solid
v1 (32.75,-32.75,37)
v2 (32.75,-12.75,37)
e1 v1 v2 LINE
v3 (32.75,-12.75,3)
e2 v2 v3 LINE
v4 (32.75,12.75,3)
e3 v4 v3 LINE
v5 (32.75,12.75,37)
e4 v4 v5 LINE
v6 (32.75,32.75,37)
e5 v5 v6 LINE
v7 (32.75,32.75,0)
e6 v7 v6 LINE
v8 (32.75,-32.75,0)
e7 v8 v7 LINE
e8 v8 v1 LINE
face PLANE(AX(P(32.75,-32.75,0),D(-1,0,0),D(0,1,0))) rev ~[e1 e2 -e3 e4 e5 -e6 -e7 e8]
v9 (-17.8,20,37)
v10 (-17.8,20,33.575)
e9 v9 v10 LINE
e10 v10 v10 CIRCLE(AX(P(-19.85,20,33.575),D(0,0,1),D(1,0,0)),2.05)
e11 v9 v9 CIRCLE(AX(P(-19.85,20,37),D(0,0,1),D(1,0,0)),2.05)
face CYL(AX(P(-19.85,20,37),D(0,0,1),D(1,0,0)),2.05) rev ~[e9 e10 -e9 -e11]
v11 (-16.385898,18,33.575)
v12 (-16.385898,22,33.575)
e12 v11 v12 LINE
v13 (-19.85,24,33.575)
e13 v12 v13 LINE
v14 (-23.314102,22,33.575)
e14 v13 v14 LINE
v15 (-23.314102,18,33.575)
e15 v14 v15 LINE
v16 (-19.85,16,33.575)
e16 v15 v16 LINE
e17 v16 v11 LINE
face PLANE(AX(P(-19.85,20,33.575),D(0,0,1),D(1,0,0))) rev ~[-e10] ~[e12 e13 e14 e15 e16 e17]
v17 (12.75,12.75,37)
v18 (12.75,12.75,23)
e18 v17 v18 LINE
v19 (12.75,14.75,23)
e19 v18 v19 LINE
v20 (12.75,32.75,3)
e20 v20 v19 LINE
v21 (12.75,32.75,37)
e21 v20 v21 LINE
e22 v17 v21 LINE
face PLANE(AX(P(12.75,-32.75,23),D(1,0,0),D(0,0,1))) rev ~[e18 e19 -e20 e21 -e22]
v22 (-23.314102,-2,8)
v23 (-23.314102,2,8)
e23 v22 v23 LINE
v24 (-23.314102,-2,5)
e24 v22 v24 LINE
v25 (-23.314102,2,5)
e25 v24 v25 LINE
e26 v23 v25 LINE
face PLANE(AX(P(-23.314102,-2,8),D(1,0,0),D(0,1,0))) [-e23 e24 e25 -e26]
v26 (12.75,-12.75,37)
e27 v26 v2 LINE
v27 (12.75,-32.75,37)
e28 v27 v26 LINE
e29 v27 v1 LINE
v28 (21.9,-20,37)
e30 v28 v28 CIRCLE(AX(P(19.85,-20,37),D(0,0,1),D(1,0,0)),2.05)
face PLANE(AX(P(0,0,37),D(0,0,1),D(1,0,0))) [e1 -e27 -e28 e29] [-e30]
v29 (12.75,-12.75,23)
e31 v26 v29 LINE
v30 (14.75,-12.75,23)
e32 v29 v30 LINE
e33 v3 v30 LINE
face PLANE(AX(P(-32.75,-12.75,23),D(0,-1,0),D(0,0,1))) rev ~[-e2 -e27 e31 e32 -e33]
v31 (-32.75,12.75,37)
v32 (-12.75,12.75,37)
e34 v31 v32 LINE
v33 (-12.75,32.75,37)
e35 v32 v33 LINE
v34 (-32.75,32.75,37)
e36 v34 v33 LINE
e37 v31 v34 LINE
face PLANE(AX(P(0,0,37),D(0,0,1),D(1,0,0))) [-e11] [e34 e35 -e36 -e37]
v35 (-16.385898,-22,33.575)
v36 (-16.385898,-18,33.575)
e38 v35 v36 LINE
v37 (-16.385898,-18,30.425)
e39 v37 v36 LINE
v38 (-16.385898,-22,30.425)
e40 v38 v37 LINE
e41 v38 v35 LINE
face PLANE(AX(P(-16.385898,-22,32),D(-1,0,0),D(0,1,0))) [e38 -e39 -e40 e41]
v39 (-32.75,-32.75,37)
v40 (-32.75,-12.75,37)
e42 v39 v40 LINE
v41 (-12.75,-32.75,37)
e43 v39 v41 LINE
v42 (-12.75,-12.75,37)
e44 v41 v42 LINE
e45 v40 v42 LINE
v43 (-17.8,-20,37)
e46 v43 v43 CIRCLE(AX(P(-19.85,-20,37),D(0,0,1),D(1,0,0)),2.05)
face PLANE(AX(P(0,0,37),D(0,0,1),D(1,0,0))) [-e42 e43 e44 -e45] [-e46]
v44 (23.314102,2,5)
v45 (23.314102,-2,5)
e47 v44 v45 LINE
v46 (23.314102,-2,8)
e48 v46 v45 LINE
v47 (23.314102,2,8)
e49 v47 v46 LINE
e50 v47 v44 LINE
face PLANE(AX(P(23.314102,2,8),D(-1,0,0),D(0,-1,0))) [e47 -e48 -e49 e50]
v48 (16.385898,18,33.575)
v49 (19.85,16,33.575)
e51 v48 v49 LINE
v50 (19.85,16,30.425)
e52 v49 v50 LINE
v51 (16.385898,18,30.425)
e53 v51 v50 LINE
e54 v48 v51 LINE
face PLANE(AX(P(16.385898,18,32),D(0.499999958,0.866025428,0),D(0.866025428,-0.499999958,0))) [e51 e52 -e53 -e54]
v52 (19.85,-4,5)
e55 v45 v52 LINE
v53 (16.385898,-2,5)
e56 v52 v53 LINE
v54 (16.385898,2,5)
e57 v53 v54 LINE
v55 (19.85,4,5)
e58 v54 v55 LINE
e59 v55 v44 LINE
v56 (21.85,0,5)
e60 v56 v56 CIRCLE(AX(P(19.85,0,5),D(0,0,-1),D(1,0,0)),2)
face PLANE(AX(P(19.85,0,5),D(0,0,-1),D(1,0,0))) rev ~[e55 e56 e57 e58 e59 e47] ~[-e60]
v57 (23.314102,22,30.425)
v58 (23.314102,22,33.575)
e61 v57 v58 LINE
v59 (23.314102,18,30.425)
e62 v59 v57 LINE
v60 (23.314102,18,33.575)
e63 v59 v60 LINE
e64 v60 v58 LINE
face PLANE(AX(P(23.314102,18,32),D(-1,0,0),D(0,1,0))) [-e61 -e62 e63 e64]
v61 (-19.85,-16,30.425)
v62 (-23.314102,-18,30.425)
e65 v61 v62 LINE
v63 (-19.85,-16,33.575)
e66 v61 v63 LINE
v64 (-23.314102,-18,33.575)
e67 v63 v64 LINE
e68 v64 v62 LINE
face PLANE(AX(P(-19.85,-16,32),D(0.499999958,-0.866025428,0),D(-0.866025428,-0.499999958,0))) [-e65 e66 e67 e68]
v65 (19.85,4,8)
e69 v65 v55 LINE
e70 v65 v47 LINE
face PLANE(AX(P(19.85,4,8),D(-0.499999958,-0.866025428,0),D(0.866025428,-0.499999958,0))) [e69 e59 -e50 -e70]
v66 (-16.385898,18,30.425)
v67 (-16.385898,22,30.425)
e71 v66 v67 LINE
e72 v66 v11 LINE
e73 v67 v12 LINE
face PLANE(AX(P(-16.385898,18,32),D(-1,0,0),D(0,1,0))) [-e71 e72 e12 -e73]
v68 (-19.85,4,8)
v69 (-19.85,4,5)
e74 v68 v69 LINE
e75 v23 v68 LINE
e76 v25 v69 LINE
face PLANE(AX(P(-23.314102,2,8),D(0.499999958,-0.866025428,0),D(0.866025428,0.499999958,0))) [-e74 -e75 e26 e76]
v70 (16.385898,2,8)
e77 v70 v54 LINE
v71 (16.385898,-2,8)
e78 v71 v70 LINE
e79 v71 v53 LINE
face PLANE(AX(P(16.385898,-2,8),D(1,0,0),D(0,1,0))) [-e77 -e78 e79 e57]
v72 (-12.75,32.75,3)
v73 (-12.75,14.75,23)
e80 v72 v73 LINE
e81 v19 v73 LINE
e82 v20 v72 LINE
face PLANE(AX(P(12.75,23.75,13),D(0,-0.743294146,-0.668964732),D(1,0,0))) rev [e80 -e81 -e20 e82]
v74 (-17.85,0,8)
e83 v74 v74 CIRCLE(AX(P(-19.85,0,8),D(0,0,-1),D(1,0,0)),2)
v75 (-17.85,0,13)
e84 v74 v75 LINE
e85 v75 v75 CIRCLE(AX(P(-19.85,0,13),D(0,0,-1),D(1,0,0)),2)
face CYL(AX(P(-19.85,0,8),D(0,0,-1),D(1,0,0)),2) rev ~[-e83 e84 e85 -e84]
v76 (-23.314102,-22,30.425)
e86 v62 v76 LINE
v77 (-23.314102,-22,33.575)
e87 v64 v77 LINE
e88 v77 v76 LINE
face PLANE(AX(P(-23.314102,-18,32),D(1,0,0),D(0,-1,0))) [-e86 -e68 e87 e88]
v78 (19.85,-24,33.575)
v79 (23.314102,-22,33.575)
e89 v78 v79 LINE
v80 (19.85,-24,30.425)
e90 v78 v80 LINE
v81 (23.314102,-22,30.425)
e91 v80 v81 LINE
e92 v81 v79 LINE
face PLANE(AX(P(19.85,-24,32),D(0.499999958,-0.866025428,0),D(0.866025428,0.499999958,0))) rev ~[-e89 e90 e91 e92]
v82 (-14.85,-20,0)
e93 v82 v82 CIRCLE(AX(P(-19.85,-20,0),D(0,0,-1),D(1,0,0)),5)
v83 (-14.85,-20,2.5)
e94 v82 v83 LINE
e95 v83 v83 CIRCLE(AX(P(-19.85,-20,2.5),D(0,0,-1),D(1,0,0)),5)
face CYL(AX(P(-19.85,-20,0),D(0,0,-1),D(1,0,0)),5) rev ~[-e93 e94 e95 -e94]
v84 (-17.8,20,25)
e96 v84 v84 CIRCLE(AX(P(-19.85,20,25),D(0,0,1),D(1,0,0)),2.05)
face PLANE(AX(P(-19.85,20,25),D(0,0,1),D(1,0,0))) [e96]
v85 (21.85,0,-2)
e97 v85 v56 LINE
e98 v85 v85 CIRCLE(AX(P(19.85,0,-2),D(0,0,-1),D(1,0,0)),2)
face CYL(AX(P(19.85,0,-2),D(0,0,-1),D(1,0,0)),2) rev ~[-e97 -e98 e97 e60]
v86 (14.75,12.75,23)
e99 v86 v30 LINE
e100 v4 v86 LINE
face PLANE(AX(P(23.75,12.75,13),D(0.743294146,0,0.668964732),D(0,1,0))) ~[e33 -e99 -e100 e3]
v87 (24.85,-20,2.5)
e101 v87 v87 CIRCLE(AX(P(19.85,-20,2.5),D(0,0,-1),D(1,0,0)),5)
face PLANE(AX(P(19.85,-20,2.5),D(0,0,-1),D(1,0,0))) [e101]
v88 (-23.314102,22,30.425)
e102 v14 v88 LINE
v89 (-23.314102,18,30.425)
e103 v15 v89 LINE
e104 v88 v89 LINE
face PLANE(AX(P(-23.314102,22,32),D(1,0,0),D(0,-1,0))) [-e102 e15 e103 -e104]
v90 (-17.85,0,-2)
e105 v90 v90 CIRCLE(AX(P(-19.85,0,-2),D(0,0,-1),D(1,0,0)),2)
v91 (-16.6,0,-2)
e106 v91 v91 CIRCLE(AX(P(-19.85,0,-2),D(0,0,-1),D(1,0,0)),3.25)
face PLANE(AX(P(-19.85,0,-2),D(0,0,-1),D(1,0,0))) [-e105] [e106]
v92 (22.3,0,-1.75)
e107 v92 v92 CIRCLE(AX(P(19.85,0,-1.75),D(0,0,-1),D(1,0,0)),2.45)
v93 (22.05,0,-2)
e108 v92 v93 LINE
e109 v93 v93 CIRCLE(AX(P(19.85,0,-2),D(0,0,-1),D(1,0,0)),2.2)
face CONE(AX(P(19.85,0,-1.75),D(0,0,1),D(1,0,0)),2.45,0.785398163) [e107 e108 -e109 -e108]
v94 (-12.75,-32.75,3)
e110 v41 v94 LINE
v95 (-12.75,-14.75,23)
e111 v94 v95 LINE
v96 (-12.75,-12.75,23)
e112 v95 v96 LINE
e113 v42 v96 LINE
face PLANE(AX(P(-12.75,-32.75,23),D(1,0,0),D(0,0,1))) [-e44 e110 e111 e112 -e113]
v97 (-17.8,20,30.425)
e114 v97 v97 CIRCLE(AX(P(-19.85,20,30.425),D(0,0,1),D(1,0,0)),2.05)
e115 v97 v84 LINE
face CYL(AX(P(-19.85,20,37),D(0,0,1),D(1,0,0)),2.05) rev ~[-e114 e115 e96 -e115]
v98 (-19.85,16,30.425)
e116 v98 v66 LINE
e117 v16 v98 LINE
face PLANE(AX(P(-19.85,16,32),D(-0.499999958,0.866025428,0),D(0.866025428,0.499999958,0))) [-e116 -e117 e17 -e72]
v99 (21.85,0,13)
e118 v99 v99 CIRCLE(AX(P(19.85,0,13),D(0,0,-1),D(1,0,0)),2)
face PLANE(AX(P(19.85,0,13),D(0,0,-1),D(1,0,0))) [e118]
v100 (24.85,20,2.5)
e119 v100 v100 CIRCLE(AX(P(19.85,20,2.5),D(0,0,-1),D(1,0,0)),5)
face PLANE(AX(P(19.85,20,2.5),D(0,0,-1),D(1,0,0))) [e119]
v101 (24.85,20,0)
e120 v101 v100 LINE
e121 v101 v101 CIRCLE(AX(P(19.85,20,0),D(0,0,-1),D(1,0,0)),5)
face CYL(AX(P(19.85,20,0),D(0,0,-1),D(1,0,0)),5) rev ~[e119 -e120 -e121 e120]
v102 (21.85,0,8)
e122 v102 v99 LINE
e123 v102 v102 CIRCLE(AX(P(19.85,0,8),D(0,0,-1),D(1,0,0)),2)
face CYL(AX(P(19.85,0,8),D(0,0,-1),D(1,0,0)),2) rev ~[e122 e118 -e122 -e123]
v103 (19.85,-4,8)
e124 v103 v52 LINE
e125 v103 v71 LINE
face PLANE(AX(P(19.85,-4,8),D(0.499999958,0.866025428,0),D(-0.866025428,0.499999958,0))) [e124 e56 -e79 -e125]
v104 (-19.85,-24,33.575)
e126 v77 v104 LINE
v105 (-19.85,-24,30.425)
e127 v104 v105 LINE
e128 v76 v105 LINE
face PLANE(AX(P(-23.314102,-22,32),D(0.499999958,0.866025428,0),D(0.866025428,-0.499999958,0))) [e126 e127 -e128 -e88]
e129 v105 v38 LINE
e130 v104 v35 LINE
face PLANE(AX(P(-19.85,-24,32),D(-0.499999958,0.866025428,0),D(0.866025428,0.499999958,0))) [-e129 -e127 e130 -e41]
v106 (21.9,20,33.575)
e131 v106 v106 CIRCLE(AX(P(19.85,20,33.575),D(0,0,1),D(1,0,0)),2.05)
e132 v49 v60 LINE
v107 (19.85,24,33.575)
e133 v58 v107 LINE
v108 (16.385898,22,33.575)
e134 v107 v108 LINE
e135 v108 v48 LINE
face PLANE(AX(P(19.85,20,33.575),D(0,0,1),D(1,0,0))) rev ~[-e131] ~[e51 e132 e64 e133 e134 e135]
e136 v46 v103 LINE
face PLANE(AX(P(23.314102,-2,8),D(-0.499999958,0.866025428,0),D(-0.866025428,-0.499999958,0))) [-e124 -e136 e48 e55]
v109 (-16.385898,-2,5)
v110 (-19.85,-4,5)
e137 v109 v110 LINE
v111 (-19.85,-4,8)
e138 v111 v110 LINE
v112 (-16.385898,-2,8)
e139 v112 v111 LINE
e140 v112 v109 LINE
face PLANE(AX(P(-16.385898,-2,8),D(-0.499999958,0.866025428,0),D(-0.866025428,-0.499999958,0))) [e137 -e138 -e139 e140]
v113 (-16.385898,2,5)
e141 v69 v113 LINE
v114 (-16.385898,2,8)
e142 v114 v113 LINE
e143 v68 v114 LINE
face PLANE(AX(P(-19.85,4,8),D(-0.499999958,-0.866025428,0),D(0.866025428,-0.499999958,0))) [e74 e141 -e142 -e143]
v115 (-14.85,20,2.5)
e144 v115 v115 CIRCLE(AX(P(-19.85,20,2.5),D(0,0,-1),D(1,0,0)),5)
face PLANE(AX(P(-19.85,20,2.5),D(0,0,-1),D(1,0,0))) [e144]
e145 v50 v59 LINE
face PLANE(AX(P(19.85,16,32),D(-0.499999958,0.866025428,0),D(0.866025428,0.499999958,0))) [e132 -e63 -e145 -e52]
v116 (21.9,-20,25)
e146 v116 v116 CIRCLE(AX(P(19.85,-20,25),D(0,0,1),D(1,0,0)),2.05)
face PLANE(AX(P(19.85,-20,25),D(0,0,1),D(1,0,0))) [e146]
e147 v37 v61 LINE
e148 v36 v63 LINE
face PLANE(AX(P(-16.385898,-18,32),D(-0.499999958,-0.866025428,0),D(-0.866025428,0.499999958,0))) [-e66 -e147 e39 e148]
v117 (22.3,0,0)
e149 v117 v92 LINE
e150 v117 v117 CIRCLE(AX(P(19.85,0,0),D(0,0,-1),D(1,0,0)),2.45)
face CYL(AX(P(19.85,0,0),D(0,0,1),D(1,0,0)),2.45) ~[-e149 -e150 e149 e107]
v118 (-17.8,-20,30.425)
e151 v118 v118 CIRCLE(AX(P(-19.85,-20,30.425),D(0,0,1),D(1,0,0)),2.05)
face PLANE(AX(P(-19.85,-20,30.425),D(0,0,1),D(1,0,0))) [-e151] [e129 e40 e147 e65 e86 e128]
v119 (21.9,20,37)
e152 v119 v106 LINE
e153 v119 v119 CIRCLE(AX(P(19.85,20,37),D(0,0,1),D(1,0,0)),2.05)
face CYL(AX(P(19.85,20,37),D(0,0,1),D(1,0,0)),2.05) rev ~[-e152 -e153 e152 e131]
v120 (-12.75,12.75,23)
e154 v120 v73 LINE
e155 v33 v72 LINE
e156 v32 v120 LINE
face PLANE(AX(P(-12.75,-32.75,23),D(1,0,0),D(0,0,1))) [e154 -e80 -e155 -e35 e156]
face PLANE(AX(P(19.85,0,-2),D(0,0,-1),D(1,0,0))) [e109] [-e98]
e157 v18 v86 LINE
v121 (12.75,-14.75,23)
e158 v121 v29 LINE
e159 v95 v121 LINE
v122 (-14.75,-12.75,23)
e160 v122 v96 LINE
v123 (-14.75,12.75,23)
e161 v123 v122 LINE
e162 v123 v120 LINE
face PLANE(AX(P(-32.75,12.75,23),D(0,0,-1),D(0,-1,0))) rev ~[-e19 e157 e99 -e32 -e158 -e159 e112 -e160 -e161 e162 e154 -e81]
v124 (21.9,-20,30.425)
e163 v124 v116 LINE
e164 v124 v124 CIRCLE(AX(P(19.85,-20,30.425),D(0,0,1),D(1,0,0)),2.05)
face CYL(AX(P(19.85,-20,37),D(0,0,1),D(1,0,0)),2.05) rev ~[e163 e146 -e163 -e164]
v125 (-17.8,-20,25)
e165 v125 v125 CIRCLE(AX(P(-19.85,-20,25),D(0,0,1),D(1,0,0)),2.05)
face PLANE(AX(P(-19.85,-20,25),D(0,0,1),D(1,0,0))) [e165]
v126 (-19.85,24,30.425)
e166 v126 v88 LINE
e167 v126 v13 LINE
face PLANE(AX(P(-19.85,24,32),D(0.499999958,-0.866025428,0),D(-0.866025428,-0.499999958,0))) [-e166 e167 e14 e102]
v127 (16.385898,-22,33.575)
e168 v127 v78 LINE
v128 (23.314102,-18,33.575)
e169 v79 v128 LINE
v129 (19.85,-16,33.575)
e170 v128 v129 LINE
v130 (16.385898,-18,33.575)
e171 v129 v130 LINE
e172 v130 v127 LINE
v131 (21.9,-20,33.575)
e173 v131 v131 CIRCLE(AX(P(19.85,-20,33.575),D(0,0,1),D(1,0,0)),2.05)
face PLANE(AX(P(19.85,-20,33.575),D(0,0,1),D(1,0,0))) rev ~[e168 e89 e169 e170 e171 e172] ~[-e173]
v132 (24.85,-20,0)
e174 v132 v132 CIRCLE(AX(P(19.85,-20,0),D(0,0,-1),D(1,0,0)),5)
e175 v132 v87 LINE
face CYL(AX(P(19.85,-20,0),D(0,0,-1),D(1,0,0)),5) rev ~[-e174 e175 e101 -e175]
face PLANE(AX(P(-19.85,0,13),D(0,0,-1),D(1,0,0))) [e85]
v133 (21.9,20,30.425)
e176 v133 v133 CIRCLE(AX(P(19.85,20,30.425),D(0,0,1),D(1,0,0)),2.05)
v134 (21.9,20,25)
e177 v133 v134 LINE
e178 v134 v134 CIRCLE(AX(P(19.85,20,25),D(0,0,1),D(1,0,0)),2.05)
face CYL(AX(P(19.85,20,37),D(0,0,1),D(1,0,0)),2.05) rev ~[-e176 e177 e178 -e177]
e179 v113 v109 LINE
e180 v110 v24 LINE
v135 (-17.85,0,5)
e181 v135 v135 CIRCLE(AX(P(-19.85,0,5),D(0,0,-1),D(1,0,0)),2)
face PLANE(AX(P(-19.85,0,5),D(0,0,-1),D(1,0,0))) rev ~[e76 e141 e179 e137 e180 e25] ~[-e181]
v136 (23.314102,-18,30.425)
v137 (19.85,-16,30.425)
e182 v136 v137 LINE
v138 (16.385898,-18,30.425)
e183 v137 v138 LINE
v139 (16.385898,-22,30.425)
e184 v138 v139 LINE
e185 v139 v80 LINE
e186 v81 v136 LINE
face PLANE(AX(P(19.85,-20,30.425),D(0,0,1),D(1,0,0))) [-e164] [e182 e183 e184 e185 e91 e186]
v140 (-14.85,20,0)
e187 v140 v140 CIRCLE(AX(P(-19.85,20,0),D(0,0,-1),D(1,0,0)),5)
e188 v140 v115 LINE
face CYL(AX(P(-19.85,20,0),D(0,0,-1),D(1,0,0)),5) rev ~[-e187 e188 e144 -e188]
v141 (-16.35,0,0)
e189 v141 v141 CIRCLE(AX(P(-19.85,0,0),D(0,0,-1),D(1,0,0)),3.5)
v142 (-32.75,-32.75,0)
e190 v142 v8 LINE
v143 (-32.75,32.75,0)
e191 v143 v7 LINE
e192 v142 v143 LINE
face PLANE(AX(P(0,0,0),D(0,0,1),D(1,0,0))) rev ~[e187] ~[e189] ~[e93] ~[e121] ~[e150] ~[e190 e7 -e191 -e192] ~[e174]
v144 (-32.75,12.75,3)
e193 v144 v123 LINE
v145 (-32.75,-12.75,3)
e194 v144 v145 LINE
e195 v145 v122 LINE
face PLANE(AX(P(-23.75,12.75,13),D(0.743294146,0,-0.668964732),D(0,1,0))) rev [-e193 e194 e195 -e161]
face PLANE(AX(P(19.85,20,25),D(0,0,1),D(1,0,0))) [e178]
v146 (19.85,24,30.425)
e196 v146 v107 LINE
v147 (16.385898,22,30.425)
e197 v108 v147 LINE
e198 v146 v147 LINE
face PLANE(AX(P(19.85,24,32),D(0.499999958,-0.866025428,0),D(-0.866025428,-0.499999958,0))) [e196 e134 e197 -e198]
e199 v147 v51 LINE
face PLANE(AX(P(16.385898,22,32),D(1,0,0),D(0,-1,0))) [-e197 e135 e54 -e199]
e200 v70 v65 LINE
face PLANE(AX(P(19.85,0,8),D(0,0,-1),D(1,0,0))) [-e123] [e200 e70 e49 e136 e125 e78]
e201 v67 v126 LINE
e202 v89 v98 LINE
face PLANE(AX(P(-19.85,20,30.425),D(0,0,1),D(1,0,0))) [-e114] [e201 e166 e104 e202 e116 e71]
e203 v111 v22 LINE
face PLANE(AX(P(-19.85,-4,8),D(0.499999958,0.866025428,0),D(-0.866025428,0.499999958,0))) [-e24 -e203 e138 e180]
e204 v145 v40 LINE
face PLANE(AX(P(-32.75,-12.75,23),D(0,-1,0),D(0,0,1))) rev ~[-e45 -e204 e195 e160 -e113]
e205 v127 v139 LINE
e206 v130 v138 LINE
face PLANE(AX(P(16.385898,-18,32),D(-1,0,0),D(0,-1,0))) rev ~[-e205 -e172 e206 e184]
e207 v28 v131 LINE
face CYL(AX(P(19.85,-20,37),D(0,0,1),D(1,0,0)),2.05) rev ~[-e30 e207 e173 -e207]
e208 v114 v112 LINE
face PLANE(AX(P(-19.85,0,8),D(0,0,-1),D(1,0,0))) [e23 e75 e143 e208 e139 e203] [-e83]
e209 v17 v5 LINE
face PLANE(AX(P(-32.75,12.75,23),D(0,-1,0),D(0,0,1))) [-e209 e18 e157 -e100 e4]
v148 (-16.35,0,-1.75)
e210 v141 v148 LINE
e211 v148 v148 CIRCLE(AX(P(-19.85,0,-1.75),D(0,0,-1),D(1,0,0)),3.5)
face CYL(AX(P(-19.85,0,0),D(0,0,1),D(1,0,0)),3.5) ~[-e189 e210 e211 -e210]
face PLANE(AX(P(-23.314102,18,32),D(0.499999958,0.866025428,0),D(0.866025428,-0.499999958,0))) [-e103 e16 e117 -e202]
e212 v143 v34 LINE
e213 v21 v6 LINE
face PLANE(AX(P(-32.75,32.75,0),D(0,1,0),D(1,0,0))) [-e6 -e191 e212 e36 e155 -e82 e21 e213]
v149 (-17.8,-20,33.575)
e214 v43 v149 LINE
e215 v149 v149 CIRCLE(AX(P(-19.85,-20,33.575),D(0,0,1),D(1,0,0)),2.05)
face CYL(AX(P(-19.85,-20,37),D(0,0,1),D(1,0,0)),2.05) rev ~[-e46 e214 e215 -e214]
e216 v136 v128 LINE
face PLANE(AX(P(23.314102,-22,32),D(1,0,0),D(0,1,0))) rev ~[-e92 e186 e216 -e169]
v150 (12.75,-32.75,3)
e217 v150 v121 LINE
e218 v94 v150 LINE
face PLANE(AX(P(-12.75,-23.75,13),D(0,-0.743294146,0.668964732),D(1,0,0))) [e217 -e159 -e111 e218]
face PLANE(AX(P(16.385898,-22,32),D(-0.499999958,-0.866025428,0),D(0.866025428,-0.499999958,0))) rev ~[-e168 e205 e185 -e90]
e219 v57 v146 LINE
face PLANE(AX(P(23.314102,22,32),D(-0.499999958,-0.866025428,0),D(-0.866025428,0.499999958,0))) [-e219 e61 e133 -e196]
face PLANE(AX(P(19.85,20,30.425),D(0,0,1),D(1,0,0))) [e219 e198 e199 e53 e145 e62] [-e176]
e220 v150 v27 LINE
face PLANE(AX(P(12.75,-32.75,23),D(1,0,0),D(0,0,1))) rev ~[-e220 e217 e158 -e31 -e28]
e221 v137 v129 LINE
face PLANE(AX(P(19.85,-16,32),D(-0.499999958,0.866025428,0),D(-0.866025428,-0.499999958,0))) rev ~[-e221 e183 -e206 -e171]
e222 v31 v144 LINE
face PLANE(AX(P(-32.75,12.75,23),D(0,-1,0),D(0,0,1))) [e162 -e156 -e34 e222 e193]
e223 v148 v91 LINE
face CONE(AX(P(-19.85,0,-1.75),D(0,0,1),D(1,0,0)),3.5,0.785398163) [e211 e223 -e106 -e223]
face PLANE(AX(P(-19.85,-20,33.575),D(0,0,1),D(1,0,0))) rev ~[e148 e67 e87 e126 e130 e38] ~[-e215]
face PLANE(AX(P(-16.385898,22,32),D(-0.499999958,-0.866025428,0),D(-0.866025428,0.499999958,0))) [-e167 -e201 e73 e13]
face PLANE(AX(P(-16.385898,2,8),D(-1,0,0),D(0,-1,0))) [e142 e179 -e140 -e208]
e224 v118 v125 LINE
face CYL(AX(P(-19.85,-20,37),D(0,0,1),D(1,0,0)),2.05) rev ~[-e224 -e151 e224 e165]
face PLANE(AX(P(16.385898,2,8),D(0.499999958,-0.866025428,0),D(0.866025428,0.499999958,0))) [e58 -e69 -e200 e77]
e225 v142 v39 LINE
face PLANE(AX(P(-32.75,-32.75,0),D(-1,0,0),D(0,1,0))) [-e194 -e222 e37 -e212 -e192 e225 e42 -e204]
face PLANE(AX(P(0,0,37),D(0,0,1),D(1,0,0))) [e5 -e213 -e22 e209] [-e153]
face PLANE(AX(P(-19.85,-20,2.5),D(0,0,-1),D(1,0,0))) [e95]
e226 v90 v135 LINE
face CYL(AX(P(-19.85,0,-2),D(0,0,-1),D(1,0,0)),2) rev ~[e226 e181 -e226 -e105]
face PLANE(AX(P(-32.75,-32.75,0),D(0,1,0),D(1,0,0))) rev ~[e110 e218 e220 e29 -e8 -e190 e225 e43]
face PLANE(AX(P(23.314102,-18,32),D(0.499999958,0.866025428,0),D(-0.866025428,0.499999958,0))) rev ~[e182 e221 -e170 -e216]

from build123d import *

# Parameters (mm, degrees)
SKETCH_W        = 65.5
SKETCH_H        = 65.5
PAD_DEPTH       = 37
SKETCH001_W     = 25.5
SKETCH001_H     = 14
POCKET_DEPTH    = 65.501
SKETCH002_W     = 25.5
SKETCH002_H     = 14
POCKET001_DEPTH = 65.501
CHAMFER_1_SIZE2 = 18
CHAMFER_1_SIZE  = 20
CHAMFER_2_SIZE2 = 18
CHAMFER_2_SIZE  = 20
CHAMFER_3_SIZE2 = 18
CHAMFER_3_SIZE  = 20
CHAMFER_4_SIZE2 = 18
CHAMFER_4_SIZE  = 20
SKETCH003_R     = 5
POCKET002_DEPTH = 2.5
SKETCH004_R     = 3.5
SKETCH004_R_2   = 2.45
PAD001_DEPTH    = 2
SKETCH005_R     = 2
POCKET003_DEPTH = 10
CHAMFER001_SIZE = 0.25
POCKET004_DEPTH = 3
SKETCH007_R     = 2.05
POCKET005_DEPTH = 12
POCKET006_DEPTH = 1.575
SKETCH009_R     = 2
POCKET007_DEPTH = 5


with BuildPart() as part:
    # Sketch → Pad (new body)
    with BuildSketch(Plane.XY):
        Rectangle(SKETCH_W, SKETCH_H)
    extrude(amount=PAD_DEPTH)

    # Sketch001 (on Face3 of Pad) → Pocket (cut, through all)
    with BuildSketch(Plane.XZ.offset(32.75)):
        with Locations((0, 30)):
            Rectangle(SKETCH001_W, SKETCH001_H)
    extrude(amount=-POCKET_DEPTH, mode=Mode.SUBTRACT)

    # Sketch002 (on Face9 of Pocket) → Pocket001 (cut, through all)
    with BuildSketch(Plane(origin=(-32.75, 0, 0), x_dir=(0, -1, 0), z_dir=(-1, 0, 0))):
        with Locations((0, 30)):
            Rectangle(SKETCH002_W, SKETCH002_H)
    extrude(amount=-POCKET001_DEPTH, mode=Mode.SUBTRACT)

    # Chamfer 1
    chamfer_1_edges = [part.edges().sort_by_distance(p)[0] for p in [
        (0, 32.75, 23),
    ]]
    chamfer_1_side = part.faces().sort_by_distance((0, 32.75, 16.513308))[0]
    chamfer(chamfer_1_edges, length=CHAMFER_1_SIZE, length2=CHAMFER_1_SIZE2, reference=chamfer_1_side)

    # Chamfer 2
    chamfer_2_edges = [part.edges().sort_by_distance(p)[0] for p in [
        (0, -32.75, 23),
    ]]
    chamfer_2_side = part.faces().sort_by_distance((0, -32.75, 16.513308))[0]
    chamfer(chamfer_2_edges, length=CHAMFER_2_SIZE, length2=CHAMFER_2_SIZE2, reference=chamfer_2_side)

    # Chamfer 3
    chamfer_3_edges = [part.edges().sort_by_distance(p)[0] for p in [
        (-32.75, 0, 23),
    ]]
    chamfer_3_side = part.faces().sort_by_distance((-32.75, 0, 16.513308))[0]
    chamfer(chamfer_3_edges, length=CHAMFER_3_SIZE, length2=CHAMFER_3_SIZE2, reference=chamfer_3_side)

    # Chamfer 4
    chamfer_4_edges = [part.edges().sort_by_distance(p)[0] for p in [
        (32.75, 0, 23),
    ]]
    chamfer_4_side = part.faces().sort_by_distance((32.75, 0, 16.513308))[0]
    chamfer(chamfer_4_edges, length=CHAMFER_4_SIZE, length2=CHAMFER_4_SIZE2, reference=chamfer_4_side)

    # Sketch003 (on Face7 of Chamfer) → Pocket002 (cut)
    with BuildSketch(Plane(origin=(0, 0, 0), x_dir=(1, 0, 0), z_dir=(0, 0, -1))):
        with Locations((-19.85, 20)):
            Circle(SKETCH003_R)
        with Locations((19.85, 20)):
            Circle(SKETCH003_R)
        with Locations((-19.85, -20)):
            Circle(SKETCH003_R)
        with Locations((19.85, -20)):
            Circle(SKETCH003_R)
    extrude(amount=-POCKET002_DEPTH, mode=Mode.SUBTRACT)

    # Sketch004 (on Face7 of Pocket002) → Pad001 (join)
    with BuildSketch(Plane(origin=(0, 0, 0), x_dir=(1, 0, 0), z_dir=(0, 0, -1))):
        with Locations((-19.85, 0)):
            Circle(SKETCH004_R)
        with Locations((19.85, 0)):
            Circle(SKETCH004_R_2)
    extrude(amount=PAD001_DEPTH)

    # Sketch005 (on Face34 of Pad001) → Pocket003 (cut)
    with BuildSketch(Plane(origin=(0, 0, -2), x_dir=(1, 0, 0), z_dir=(0, 0, -1))):
        with Locations((-19.85, 0)):
            Circle(SKETCH005_R)
        with Locations((19.85, 0)):
            Circle(SKETCH005_R)
    extrude(amount=-POCKET003_DEPTH, mode=Mode.SUBTRACT)

    # Chamfer001
    chamfer001_edges = [part.edges().sort_by_distance(p)[0] for p in [
        (-23.35, 0, -2),
        (17.4, 0, -2),
    ]]
    chamfer(chamfer001_edges, length=CHAMFER001_SIZE)

    # Sketch006 (on Face36 of Chamfer001) → Pocket004 (cut)
    with BuildSketch(Plane(origin=(0, 0, 8), x_dir=(1, 0, 0), z_dir=(0, 0, -1))):
        Polygon((-19.85, -4), (-16.385898, -2), (-16.385898, 2), (-19.85, 4), (-23.314102, 2), (-23.314102, -2), align=None)
        Polygon((19.85, -4), (23.314102, -2), (23.314102, 2), (19.85, 4), (16.385898, 2), (16.385898, -2), align=None)
    extrude(amount=POCKET004_DEPTH, mode=Mode.SUBTRACT)

    # Sketch007 (on Face22 of Pocket004) → Pocket005 (cut)
    with BuildSketch(Plane.XY.offset(37)):
        with Locations((-19.85, 20)):
            Circle(SKETCH007_R)
        with Locations((19.85, 20)):
            Circle(SKETCH007_R)
        with Locations((-19.85, -20)):
            Circle(SKETCH007_R)
        with Locations((19.85, -20)):
            Circle(SKETCH007_R)
    extrude(amount=-POCKET005_DEPTH, mode=Mode.SUBTRACT)

    # Sketch008 (on DatumPlane) → Pocket006 (cut, symmetric)
    with BuildSketch(Plane.XY.offset(32)):
        Polygon((-19.85, 16), (-16.385898, 18), (-16.385898, 22), (-19.85, 24), (-23.314102, 22), (-23.314102, 18), align=None)
        Polygon((-19.85, -24), (-16.385898, -22), (-16.385898, -18), (-19.85, -16), (-23.314102, -18), (-23.314102, -22), align=None)
        Polygon((19.85, 16), (23.314102, 18), (23.314102, 22), (19.85, 24), (16.385898, 22), (16.385898, 18), align=None)
        Polygon((19.85, -24), (23.314102, -22), (23.314102, -18), (19.85, -16), (16.385898, -18), (16.385898, -22), align=None)
    extrude(amount=POCKET006_DEPTH, both=True, mode=Mode.SUBTRACT)

    # Sketch009 (on Face104 of Pocket006) → Pocket007 (cut)
    with BuildSketch(Plane(origin=(0, 0, 8), x_dir=(1, 0, 0), z_dir=(0, 0, -1))):
        with Locations((-19.85, 0)):
            Circle(SKETCH009_R)
        with Locations((19.85, 0)):
            Circle(SKETCH009_R)
    extrude(amount=-POCKET007_DEPTH, mode=Mode.SUBTRACT)


solid = part.part
